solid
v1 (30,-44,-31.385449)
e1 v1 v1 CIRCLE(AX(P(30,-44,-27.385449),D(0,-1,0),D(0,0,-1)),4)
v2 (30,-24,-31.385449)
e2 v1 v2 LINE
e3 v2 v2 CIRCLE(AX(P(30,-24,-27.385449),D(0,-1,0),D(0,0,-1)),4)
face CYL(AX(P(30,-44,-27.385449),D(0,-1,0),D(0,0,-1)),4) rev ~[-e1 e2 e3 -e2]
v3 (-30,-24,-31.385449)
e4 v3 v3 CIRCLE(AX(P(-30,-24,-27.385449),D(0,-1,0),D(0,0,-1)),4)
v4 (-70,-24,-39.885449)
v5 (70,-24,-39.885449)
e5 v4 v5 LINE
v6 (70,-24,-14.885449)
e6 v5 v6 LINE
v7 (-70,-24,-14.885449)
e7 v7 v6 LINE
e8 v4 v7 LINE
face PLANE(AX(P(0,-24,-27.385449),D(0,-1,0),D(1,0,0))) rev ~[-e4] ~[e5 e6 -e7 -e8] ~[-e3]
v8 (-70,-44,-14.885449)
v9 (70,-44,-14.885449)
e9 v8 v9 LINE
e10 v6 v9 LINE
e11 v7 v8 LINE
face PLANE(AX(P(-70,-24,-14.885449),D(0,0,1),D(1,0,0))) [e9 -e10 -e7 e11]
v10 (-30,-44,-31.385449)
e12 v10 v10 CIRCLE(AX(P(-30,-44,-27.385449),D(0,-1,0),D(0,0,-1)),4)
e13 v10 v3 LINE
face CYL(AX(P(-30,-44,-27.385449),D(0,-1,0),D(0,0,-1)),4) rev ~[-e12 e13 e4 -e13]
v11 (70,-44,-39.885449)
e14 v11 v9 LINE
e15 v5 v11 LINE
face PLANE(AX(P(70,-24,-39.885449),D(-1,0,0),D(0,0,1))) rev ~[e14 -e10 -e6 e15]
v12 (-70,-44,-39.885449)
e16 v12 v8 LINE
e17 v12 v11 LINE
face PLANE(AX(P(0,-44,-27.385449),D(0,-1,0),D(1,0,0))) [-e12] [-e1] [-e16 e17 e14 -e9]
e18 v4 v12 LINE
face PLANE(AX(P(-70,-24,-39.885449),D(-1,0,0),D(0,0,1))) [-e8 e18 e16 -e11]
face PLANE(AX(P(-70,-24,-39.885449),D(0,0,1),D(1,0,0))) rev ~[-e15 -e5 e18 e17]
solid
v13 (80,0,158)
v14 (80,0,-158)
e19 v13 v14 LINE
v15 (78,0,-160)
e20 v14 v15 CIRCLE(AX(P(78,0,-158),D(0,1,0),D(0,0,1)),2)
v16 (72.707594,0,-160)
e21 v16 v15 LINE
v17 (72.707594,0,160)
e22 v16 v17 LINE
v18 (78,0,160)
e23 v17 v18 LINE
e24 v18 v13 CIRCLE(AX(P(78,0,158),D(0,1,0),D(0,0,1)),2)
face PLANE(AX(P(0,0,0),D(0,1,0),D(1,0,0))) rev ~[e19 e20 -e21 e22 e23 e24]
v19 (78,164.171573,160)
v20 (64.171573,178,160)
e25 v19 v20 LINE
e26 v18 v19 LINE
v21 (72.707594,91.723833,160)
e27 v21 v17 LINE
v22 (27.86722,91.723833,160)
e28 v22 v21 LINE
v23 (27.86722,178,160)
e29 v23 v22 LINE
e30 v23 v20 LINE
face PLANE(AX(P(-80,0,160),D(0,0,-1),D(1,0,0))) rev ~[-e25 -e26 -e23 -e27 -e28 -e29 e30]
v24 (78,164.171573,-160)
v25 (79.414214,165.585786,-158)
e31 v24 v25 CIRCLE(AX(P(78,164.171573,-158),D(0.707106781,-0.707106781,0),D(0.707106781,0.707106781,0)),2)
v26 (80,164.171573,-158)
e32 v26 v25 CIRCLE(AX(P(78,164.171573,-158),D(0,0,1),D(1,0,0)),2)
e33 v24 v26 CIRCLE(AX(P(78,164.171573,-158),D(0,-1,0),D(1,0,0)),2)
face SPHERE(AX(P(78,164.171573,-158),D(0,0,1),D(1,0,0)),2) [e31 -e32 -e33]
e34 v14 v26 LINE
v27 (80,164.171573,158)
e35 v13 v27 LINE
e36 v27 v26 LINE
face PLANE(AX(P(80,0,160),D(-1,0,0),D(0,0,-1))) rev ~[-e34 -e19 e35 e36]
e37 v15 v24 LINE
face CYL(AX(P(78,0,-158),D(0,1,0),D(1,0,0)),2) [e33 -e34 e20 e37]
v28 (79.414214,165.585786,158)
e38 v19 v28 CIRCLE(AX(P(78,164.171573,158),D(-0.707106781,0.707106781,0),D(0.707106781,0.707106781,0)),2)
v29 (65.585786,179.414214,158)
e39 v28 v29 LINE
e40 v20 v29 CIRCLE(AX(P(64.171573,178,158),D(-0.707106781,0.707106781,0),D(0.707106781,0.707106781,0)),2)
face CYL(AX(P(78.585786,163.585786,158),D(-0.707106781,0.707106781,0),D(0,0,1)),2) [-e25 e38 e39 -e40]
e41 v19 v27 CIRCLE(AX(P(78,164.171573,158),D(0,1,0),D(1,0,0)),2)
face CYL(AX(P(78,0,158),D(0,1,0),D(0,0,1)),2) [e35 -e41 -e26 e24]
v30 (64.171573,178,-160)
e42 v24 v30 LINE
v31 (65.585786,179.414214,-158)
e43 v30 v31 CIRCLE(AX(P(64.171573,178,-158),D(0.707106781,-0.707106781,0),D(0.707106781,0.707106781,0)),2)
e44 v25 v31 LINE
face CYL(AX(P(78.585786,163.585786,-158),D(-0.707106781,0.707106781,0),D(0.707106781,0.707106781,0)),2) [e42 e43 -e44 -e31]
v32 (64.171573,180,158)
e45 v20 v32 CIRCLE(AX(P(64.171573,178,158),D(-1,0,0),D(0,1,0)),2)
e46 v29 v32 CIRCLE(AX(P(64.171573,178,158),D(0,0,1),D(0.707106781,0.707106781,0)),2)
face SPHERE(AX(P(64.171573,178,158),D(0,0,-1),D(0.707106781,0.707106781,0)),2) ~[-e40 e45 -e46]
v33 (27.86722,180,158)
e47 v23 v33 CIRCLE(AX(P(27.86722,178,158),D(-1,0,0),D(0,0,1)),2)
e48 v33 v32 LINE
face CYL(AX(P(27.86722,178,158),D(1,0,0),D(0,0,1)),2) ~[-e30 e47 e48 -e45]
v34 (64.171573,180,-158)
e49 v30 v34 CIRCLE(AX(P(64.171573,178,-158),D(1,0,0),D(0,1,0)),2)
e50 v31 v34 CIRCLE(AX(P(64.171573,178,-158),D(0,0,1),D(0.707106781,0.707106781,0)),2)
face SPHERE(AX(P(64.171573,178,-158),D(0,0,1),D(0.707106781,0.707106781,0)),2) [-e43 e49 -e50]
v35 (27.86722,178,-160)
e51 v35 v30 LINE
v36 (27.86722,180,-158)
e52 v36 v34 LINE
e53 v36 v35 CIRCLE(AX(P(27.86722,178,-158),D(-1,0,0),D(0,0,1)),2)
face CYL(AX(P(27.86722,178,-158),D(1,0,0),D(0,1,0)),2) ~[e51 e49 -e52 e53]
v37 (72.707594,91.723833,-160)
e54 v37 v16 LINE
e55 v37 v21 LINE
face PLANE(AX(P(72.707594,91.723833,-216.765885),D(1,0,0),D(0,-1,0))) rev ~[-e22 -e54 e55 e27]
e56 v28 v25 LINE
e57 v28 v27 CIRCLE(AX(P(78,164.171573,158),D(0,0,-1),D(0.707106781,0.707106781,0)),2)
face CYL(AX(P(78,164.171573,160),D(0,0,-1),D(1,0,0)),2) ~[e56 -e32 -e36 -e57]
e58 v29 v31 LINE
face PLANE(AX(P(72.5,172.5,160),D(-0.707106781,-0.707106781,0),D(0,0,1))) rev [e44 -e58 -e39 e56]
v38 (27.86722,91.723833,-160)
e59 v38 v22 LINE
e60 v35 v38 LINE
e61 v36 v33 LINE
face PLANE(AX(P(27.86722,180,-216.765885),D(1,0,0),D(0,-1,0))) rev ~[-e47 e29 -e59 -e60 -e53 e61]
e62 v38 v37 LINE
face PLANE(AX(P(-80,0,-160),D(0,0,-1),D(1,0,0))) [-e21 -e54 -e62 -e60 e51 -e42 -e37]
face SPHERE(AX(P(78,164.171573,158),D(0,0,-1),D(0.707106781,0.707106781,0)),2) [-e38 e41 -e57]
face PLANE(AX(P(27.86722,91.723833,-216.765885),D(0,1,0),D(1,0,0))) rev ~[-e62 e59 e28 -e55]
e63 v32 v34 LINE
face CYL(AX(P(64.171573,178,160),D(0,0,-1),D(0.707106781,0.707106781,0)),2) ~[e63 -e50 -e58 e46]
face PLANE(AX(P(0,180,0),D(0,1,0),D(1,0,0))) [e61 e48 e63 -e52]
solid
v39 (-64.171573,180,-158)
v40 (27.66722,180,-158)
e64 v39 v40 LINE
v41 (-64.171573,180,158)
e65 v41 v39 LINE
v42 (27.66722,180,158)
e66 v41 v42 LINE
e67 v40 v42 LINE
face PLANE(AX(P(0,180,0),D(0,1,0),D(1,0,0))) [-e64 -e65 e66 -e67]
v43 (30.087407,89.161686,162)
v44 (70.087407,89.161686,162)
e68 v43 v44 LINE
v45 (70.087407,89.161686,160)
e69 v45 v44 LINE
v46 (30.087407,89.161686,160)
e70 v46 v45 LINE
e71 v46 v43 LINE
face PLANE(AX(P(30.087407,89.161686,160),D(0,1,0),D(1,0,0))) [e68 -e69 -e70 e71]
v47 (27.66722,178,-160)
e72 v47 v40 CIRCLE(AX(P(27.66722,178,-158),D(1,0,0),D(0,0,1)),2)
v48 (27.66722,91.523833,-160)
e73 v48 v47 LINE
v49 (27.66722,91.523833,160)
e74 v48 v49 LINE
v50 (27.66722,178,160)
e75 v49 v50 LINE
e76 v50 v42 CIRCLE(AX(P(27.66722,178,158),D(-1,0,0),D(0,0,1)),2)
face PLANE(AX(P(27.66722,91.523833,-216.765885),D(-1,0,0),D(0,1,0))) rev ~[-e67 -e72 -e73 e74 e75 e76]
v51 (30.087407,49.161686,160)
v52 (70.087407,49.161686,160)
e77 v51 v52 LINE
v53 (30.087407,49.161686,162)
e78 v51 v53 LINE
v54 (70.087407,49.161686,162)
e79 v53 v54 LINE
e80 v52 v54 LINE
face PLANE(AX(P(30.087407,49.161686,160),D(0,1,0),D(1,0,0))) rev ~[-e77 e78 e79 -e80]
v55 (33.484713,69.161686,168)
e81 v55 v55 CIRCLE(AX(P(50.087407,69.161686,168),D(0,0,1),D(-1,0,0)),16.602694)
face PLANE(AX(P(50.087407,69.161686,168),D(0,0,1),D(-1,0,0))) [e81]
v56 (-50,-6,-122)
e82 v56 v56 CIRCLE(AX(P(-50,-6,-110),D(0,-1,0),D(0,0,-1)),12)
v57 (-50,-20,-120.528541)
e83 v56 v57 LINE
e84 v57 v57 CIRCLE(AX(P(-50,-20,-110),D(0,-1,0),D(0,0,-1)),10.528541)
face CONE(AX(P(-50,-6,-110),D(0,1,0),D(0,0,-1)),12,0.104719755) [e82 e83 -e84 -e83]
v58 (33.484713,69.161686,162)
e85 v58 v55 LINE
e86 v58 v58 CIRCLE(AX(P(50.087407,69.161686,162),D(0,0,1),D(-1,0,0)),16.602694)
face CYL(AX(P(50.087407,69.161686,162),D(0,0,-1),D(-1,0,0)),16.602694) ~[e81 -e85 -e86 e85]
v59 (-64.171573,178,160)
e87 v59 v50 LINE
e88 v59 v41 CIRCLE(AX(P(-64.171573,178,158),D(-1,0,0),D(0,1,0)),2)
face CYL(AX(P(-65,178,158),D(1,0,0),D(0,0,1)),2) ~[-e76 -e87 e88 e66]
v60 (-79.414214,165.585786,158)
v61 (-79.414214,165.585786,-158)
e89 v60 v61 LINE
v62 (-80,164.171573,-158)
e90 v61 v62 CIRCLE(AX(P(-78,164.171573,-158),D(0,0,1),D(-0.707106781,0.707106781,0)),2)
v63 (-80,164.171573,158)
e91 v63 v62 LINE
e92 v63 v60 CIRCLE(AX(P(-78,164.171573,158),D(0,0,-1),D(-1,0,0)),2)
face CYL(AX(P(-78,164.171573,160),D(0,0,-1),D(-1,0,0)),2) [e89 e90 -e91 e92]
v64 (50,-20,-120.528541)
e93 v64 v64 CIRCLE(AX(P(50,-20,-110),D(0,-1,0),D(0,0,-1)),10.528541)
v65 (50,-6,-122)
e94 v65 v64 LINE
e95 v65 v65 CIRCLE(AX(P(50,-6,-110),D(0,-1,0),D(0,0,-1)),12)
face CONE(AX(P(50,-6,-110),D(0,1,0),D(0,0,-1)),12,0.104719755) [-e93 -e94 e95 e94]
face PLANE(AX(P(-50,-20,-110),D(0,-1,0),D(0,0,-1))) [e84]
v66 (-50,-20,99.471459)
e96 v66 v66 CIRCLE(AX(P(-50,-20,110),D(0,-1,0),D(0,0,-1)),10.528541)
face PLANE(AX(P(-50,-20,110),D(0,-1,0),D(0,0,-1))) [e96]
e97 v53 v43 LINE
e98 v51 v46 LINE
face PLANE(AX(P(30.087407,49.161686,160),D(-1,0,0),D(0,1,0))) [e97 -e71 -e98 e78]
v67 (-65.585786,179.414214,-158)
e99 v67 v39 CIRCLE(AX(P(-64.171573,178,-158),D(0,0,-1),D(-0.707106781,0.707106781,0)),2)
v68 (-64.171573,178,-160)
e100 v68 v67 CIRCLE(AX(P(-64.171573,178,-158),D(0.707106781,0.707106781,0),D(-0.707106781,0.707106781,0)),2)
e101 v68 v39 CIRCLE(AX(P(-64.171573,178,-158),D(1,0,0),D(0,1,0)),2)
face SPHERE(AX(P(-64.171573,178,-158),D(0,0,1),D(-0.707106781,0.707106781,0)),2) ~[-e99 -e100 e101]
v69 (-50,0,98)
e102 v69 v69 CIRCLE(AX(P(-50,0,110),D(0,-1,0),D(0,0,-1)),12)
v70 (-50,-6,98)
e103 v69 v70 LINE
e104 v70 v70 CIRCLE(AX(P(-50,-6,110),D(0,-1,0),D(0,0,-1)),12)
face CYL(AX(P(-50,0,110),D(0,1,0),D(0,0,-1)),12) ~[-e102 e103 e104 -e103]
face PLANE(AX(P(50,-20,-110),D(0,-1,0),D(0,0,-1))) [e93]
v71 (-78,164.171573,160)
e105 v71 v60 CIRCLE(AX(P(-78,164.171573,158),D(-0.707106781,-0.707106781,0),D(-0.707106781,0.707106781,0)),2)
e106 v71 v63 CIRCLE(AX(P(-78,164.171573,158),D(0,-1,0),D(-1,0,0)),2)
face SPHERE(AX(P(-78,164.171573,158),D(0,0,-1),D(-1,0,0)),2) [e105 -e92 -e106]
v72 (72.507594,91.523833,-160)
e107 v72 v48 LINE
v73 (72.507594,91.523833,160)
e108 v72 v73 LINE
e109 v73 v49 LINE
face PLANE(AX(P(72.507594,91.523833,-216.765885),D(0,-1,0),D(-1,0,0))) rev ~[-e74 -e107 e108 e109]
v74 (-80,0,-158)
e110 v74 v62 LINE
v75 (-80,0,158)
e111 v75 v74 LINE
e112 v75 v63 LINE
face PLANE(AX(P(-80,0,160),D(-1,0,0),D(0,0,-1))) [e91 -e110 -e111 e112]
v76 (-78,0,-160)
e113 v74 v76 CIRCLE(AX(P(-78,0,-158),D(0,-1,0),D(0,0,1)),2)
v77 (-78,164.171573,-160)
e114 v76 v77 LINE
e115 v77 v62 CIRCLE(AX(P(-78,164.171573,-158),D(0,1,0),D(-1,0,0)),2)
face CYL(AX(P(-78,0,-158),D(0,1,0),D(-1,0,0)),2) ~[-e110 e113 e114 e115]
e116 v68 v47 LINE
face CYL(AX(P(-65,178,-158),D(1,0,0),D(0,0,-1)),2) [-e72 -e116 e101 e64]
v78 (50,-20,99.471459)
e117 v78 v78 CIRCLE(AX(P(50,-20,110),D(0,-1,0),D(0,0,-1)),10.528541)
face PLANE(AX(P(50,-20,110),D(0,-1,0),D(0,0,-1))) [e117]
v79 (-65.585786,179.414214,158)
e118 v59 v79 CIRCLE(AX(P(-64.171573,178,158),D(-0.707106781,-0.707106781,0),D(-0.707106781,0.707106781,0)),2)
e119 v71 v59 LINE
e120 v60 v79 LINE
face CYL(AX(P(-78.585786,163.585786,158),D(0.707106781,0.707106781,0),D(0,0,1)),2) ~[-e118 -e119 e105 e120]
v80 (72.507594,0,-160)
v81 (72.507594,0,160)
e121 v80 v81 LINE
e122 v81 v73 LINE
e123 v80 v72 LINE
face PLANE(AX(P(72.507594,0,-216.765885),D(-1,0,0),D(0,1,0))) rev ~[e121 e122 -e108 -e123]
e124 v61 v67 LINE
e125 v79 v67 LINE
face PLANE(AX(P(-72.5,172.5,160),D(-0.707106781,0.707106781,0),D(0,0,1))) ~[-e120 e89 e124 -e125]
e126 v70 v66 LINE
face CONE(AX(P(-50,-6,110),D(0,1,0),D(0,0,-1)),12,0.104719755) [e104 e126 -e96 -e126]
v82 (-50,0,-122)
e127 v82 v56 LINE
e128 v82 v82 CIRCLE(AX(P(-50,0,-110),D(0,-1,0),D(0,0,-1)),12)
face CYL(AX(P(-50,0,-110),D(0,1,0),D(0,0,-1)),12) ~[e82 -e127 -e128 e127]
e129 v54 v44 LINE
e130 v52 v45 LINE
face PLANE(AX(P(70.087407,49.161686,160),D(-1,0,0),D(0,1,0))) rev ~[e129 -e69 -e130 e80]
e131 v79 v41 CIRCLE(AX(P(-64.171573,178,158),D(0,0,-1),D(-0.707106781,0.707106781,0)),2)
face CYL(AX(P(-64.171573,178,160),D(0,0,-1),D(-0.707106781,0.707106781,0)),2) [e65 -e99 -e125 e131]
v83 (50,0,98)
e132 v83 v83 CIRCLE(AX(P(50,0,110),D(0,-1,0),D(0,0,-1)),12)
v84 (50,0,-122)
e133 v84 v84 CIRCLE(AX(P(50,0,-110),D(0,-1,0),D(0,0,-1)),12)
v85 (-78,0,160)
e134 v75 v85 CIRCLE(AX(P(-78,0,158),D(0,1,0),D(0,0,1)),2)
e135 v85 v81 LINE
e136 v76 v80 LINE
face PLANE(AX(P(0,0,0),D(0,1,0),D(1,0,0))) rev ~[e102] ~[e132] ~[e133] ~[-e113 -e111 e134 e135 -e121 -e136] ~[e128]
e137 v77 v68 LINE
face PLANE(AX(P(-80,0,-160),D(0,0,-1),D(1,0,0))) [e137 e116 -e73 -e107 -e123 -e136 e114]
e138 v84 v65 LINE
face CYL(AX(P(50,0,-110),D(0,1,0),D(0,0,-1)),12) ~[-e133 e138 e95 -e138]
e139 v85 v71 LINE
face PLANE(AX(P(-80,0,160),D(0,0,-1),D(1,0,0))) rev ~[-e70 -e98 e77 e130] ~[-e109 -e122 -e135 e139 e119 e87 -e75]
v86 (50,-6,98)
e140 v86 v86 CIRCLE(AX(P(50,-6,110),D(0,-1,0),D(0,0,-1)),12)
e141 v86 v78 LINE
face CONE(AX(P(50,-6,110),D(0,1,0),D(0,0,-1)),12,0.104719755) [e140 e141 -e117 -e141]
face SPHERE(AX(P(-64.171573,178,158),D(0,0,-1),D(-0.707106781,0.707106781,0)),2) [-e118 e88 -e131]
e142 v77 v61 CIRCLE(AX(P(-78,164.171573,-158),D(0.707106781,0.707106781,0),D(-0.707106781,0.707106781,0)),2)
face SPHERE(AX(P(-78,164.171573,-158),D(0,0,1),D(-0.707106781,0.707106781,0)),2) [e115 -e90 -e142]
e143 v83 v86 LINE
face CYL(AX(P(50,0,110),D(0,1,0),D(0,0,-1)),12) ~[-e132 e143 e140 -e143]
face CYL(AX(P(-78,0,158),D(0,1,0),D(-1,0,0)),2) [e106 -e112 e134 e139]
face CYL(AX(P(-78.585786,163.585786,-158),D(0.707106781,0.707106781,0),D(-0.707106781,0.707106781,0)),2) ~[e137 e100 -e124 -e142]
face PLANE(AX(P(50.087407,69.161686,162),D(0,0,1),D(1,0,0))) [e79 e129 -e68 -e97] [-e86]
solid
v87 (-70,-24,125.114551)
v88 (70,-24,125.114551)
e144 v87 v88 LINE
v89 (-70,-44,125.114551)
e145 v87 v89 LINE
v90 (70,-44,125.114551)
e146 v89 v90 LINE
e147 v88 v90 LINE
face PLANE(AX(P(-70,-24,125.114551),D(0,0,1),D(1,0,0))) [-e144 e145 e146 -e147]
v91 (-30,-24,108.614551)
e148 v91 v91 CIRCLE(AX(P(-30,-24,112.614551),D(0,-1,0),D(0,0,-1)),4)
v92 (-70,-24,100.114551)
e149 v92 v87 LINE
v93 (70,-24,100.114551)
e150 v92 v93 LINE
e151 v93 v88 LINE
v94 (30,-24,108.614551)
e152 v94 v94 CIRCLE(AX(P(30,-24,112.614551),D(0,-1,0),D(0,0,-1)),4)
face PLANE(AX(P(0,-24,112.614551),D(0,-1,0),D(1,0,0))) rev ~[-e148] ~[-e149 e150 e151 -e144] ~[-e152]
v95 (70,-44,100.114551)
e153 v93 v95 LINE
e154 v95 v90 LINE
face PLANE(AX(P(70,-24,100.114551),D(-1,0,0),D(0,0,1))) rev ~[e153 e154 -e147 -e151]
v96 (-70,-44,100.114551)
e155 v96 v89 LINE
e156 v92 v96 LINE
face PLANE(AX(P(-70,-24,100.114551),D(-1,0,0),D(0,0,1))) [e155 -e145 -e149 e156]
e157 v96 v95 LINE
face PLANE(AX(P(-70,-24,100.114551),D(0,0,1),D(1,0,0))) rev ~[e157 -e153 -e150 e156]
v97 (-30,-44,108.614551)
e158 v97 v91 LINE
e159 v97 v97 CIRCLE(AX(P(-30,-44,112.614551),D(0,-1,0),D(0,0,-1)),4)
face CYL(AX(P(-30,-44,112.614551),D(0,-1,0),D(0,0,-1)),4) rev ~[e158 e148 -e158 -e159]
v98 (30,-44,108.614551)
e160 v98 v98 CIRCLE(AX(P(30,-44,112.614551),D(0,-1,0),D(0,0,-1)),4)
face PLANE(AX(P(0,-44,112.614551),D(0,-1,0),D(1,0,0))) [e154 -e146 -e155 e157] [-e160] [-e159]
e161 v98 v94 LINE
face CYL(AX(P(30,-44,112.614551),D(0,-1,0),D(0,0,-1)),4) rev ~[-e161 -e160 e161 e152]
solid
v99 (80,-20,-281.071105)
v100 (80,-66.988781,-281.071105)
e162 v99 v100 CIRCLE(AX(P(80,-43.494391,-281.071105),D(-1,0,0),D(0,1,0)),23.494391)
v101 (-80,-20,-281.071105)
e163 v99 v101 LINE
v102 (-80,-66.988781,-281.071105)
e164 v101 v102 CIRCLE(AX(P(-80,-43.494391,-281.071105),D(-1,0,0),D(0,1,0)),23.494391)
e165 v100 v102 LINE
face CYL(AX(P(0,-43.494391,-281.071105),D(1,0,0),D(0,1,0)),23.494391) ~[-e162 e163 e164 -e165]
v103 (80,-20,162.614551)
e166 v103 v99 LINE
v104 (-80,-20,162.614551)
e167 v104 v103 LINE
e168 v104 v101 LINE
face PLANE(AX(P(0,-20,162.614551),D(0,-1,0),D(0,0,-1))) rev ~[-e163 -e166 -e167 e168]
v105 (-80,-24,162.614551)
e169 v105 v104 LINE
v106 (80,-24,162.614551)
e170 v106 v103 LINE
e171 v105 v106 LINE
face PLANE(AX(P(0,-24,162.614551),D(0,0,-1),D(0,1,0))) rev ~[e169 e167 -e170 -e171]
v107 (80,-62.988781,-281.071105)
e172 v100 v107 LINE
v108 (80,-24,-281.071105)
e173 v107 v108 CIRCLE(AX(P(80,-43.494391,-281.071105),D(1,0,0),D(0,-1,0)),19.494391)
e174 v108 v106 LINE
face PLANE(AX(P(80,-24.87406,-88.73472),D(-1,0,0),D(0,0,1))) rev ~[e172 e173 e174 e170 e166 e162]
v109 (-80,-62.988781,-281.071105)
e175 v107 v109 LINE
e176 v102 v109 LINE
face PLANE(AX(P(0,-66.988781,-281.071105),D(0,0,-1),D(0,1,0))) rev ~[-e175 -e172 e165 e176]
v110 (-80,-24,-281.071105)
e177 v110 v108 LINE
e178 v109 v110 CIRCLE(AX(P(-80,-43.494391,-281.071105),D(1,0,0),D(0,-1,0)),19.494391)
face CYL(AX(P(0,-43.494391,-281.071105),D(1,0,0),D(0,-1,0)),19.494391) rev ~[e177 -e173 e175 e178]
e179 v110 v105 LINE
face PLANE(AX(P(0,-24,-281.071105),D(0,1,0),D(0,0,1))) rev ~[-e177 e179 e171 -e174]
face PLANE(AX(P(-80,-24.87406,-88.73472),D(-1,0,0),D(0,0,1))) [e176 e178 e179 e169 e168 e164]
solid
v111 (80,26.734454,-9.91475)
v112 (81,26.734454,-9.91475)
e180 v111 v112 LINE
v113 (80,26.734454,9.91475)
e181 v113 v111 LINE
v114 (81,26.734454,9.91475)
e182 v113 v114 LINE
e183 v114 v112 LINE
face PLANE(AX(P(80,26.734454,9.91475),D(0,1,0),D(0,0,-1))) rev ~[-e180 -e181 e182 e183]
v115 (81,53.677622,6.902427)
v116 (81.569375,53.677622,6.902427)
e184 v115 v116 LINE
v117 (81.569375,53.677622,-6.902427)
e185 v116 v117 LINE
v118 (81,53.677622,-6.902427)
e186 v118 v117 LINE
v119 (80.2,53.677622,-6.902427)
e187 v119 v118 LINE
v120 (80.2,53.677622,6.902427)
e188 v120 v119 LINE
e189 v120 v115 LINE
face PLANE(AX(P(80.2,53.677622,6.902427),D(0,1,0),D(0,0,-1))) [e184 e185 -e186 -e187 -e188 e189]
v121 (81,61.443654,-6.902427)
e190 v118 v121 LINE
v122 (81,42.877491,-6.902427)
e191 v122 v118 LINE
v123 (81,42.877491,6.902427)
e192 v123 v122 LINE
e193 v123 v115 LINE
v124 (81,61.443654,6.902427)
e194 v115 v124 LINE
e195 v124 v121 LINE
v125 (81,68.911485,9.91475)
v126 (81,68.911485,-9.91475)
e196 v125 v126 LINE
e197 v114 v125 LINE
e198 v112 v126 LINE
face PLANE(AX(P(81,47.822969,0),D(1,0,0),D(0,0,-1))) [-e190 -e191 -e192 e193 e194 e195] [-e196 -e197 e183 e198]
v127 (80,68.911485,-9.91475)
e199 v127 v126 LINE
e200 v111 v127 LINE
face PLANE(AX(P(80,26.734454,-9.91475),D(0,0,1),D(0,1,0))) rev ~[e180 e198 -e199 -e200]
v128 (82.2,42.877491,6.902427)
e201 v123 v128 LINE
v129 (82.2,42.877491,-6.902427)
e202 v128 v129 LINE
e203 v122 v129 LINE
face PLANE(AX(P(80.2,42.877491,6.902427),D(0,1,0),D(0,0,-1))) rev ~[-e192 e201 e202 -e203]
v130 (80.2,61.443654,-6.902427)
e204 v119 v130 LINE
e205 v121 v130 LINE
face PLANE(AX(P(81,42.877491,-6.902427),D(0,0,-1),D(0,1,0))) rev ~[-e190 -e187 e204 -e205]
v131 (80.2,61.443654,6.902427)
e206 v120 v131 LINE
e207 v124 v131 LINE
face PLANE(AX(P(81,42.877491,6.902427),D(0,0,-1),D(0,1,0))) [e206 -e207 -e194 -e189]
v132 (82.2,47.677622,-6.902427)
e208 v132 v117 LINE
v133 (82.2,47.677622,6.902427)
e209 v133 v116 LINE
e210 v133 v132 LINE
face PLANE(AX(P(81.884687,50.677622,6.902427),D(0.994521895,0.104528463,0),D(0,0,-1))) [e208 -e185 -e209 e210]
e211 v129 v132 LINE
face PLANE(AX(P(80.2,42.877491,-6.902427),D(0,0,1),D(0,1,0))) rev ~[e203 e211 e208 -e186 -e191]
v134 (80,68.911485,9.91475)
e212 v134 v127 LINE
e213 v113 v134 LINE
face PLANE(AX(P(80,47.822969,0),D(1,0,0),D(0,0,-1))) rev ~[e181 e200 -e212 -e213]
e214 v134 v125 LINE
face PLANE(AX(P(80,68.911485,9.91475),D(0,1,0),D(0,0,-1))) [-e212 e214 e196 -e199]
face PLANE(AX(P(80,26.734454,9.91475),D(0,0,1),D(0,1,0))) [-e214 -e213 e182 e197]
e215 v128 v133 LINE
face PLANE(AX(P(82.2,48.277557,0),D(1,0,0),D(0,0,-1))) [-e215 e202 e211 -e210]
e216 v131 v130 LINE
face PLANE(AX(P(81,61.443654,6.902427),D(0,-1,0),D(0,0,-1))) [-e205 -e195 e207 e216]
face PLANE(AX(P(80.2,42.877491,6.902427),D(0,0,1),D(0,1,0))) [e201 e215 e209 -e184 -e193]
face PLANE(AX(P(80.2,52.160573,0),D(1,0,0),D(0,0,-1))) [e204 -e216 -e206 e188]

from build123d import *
from OCP.BRepFilletAPI import BRepFilletAPI_MakeChamfer

# Parameters (mm, degrees)
SKETCH_1_W               = 160
SKETCH_1_H               = 320
EXTRUDE_1_DEPTH          = 180
CUT_EXTRUDE_3_DEPTH      = 0.2
CUT_EXTRUDE_3_DEPTH_BACK = 376.765884561
CHAMFER_1_SIZE           = 15
CHAMFER_2_SIZE           = 15
FILLET_1_R               = 2
FILLET_2_R               = 2
SKETCH_3_W               = 19.82949963
SKETCH_3_H               = 42.177030959
EXTRUDE_2_DEPTH          = 1
SKETCH_4_W               = 13.804854044
SKETCH_4_H               = 18.566163121
CUT_EXTRUDE_2_DEPTH      = 0.8
SKETCH_5_W               = 40
SKETCH_5_H               = 40
EXTRUDE_3_DEPTH          = 2
SKETCH_6_R               = 16.60269393
EXTRUDE_4_DEPTH          = 6
SKETCH_7_R               = 12
EXTRUDE_5_DEPTH          = 20
CHAMFER_3_SIZE           = 14
CHAMFER_3_SIZE2          = 1.471459294
EXTRUDE_6_DEPTH          = 80
SKETCH_10_W              = 140
SKETCH_10_H              = 25
EXTRUDE_7_DEPTH          = 20
EXTRUDE_7_2_DEPTH        = 20
SKETCH_11_R              = 4
CUT_EXTRUDE_3_2_DEPTH    = 30
SKETCH_13_W              = 13.804854044
SKETCH_13_H              = 10.800130904
EXTRUDE_8_DEPTH          = 2
CHAMFER_4_SIZE           = 6
CHAMFER_4_SIZE2          = 0.630625412


with BuildPart() as part:
    # 草图1 → 凸台-拉伸1 (new body)
    with BuildSketch(Plane(origin=(0, 0, 0), x_dir=(1, 0, 0), z_dir=(0, 1, 0))):
        Rectangle(SKETCH_1_W, SKETCH_1_H)
    extrude(amount=EXTRUDE_1_DEPTH)

    # 草图2 → Cut-Extrude 3 (cut, two sides: drawn at the far end of the back side and taken through both)
    with BuildSketch(Plane.XY.offset(160).offset(-CUT_EXTRUDE_3_DEPTH_BACK)):
        Polygon((27.867220045, 180), (27.867220045, 91.72383251), (72.707594266, 91.72383251), (72.707594266, 0), (72.507594266, 0), (72.507594266, 91.52383251), (27.667220045, 91.52383251), (27.667220045, 180), align=None)
    extrude(amount=CUT_EXTRUDE_3_DEPTH + CUT_EXTRUDE_3_DEPTH_BACK, mode=Mode.SUBTRACT)


with BuildPart() as cut_extrude_3_piece_1:
    # of the separate pieces the step leaves, piece 1, a body of its own (cut_extrude_3_pieces)
    add(part.part.solids().sort_by_distance((-80, 0, 160))[0])

    # 倒角2
    chamfer_2_edges = [cut_extrude_3_piece_1.edges().sort_by_distance(p)[0] for p in [
        (-80, 180, 0),
    ]]
    chamfer(chamfer_2_edges, length=CHAMFER_2_SIZE)

    # 圆角2
    fillet_2_edges = [cut_extrude_3_piece_1.edges().sort_by_distance(p)[0] for p in [
        (-18.666389977, 180, 160),
        (-65, 180, 0),
        (-80, 82.5, 160),
        (-72.5, 172.5, 160),
        (-80, 82.5, -160),
        (-80, 165, 0),
        (-72.5, 172.5, -160),
        (-18.666389977, 180, -160),
    ]]
    fillet(fillet_2_edges, radius=FILLET_2_R)

    # 草图5 → 凸台-拉伸3 (add)
    with BuildSketch(Plane.XY.offset(160)):
        with Locations((50.087407156, 69.161685825)):
            Rectangle(SKETCH_5_W, SKETCH_5_H)
    extrude(amount=EXTRUDE_3_DEPTH)

    # 草图6 → 凸台-拉伸4 (add)
    with BuildSketch(Plane.XY.offset(162)):
        with Locations(Location((50.087407156, 69.161685825, 0), (0, 0, 180))):
            Circle(SKETCH_6_R)
    extrude(amount=EXTRUDE_4_DEPTH)

    # 草图7 → 凸台-拉伸5 (add)
    with BuildSketch(Plane.XZ):
        with Locations(Location((-50, 110, 0), (0, 0, 270))):
            Circle(SKETCH_7_R)
        with Locations(Location((50, 110, 0), (0, 0, 270))):
            Circle(SKETCH_7_R)
        with Locations(Location((-50, -110, 0), (0, 0, 270))):
            Circle(SKETCH_7_R)
        with Locations(Location((50, -110, 0), (0, 0, 270))):
            Circle(SKETCH_7_R)
    extrude(amount=EXTRUDE_5_DEPTH)

    # 倒角3: one chamfer whose edges measure the first distance from different faces: ONE call of the kernel's chamfer builder (chamfer() names one face for all edges)
    chamfer_3_edges_1 = [cut_extrude_3_piece_1.edges().sort_by_distance(p)[0] for p in [
        (-50, -20, 122),
    ]]
    chamfer_3_side_1 = [cut_extrude_3_piece_1.faces().sort_by_distance(p)[0] for p in [
        (-50, -10, 122),
    ]]
    chamfer_3_edges_2 = [cut_extrude_3_piece_1.edges().sort_by_distance(p)[0] for p in [
        (50, -20, 122),
    ]]
    chamfer_3_side_2 = [cut_extrude_3_piece_1.faces().sort_by_distance(p)[0] for p in [
        (50, -10, 122),
    ]]
    chamfer_3_edges_3 = [cut_extrude_3_piece_1.edges().sort_by_distance(p)[0] for p in [
        (-50, -20, -98),
    ]]
    chamfer_3_side_3 = [cut_extrude_3_piece_1.faces().sort_by_distance(p)[0] for p in [
        (-50, -10, -98),
    ]]
    chamfer_3_edges_4 = [cut_extrude_3_piece_1.edges().sort_by_distance(p)[0] for p in [
        (50, -20, -98),
    ]]
    chamfer_3_side_4 = [cut_extrude_3_piece_1.faces().sort_by_distance(p)[0] for p in [
        (50, -10, -98),
    ]]
    chamfer_3 = BRepFilletAPI_MakeChamfer(cut_extrude_3_piece_1.part.solid().wrapped)
    for e in chamfer_3_edges_1:
        chamfer_3.Add(CHAMFER_3_SIZE, CHAMFER_3_SIZE2, e.wrapped, chamfer_3_side_1[0].wrapped)  # the first distance lies on this face
    for e in chamfer_3_edges_2:
        chamfer_3.Add(CHAMFER_3_SIZE, CHAMFER_3_SIZE2, e.wrapped, chamfer_3_side_2[0].wrapped)  # the first distance lies on this face
    for e in chamfer_3_edges_3:
        chamfer_3.Add(CHAMFER_3_SIZE, CHAMFER_3_SIZE2, e.wrapped, chamfer_3_side_3[0].wrapped)  # the first distance lies on this face
    for e in chamfer_3_edges_4:
        chamfer_3.Add(CHAMFER_3_SIZE, CHAMFER_3_SIZE2, e.wrapped, chamfer_3_side_4[0].wrapped)  # the first distance lies on this face
    add(Compound.cast(chamfer_3.Shape()), mode=Mode.REPLACE)


with BuildPart() as cut_extrude_3_piece_2:
    # of the separate pieces the step leaves, piece 2, a body of its own (cut_extrude_3_pieces)
    add(part.part.solids().sort_by_distance((72.707594266, 0, 160))[0])

    # 倒角1
    chamfer_1_edges = [cut_extrude_3_piece_2.edges().sort_by_distance(p)[0] for p in [
        (80, 180, 0),
    ]]
    chamfer(chamfer_1_edges, length=CHAMFER_1_SIZE)

    # 圆角1
    fillet_1_edges = [cut_extrude_3_piece_2.edges().sort_by_distance(p)[0] for p in [
        (46.433610023, 180, 160),
        (46.433610023, 180, -160),
        (65, 180, 0),
        (80, 82.5, -160),
        (72.5, 172.5, -160),
        (80, 82.5, 160),
        (80, 165, 0),
        (72.5, 172.5, 160),
    ]]
    fillet(fillet_1_edges, radius=FILLET_1_R)


with BuildPart() as body_3:
    # 草图3 → 凸台-拉伸2 (new body)
    with BuildSketch(Plane(origin=(80, 0, 0), x_dir=(0, 0, -1), z_dir=(1, 0, 0))):
        with Locations((0, 47.82296904)):
            Rectangle(SKETCH_3_W, SKETCH_3_H)
    extrude(amount=EXTRUDE_2_DEPTH)

    # 草图4 → 切除-拉伸2 (cut)
    with BuildSketch(Plane(origin=(81, 0, 0), x_dir=(0, 0, -1), z_dir=(1, 0, 0))):
        with Locations((0, 52.160572655)):
            Rectangle(SKETCH_4_W, SKETCH_4_H)
    extrude(amount=-CUT_EXTRUDE_2_DEPTH, mode=Mode.SUBTRACT)

    # 草图13 → 凸台-拉伸8 (add)
    with BuildSketch(Plane(origin=(80.2, 0, 0), x_dir=(0, 0, -1), z_dir=(1, 0, 0))):
        with Locations((0, 48.277556546)):
            Rectangle(SKETCH_13_W, SKETCH_13_H)
    extrude(amount=EXTRUDE_8_DEPTH)

    # 倒角4
    chamfer_4_edges = [body_3.edges().sort_by_distance(p)[0] for p in [
        (82.2, 53.677621998, 0),
    ]]
    chamfer_4_side = [body_3.faces().sort_by_distance(p)[0] for p in [
        (82.2, 48.277556546, 0),
    ]]
    chamfer(chamfer_4_edges, length=CHAMFER_4_SIZE, length2=CHAMFER_4_SIZE2, reference=chamfer_4_side[0])


with BuildPart() as body_4:
    # 草图9 → 凸台-拉伸6 (new, symmetric)
    with BuildSketch(Plane(origin=(0, 0, 0), x_dir=(0, 0, -1), z_dir=(1, 0, 0))):
        with BuildLine():
            Line((-162.614551414, -20), (281.071104968, -20))
            ThreePointArc((281.071104968, -20), (304.565495633, -43.494390665), (281.071104968, -66.988781331))
            Line((281.071104968, -66.988781331), (281.071104968, -62.988781331))
            ThreePointArc((281.071104968, -62.988781331), (300.565495633, -43.494390665), (281.071104968, -24))
            Line((281.071104968, -24), (-162.614551414, -24))
            Line((-162.614551414, -24), (-162.614551414, -20))
        make_face()
    extrude(amount=EXTRUDE_6_DEPTH, both=True)


with BuildPart() as body_5:
    # 草图10 → 凸台-拉伸7 (new body)
    with BuildSketch(Plane.XZ.offset(24)):
        with Locations((0, 112.614551414)):
            Rectangle(SKETCH_10_W, SKETCH_10_H)
    extrude(amount=EXTRUDE_7_DEPTH)


with BuildPart() as body_6:
    # 草图10 → Extrude 7 2 (new body)
    with BuildSketch(Plane.XZ.offset(24)):
        with Locations((0, -27.385448586)):
            Rectangle(SKETCH_10_W, SKETCH_10_H)
    extrude(amount=EXTRUDE_7_2_DEPTH)


with BuildPart() as cut_extrude_3_2_tool:
    # 草图11 → Cut-Extrude 3 2 (new body)
    with BuildSketch(Plane.XZ.offset(44)):
        with Locations(Location((-30, 112.614551414, 0), (0, 0, 270))):
            Circle(SKETCH_11_R)
        with Locations(Location((30, 112.614551414, 0), (0, 0, 270))):
            Circle(SKETCH_11_R)
        with Locations(Location((30, -27.385448586, 0), (0, 0, 270))):
            Circle(SKETCH_11_R)
        with Locations(Location((-30, -27.385448586, 0), (0, 0, 270))):
            Circle(SKETCH_11_R)
    extrude(amount=-CUT_EXTRUDE_3_2_DEPTH)


with BuildPart() as body_6_1:
    add(body_6.part)

    # Cut-Extrude 3 2: cut by cut_extrude_3_2_tool
    add(cut_extrude_3_2_tool.part, mode=Mode.SUBTRACT)


with BuildPart() as body_5_1:
    add(body_5.part)

    # Cut-Extrude 3 2: cut by cut_extrude_3_2_tool
    add(cut_extrude_3_2_tool.part, mode=Mode.SUBTRACT)


solid = Compound([cut_extrude_3_piece_1.part, cut_extrude_3_piece_2.part, body_3.part, body_4.part, body_6_1.part, body_5_1.part])
